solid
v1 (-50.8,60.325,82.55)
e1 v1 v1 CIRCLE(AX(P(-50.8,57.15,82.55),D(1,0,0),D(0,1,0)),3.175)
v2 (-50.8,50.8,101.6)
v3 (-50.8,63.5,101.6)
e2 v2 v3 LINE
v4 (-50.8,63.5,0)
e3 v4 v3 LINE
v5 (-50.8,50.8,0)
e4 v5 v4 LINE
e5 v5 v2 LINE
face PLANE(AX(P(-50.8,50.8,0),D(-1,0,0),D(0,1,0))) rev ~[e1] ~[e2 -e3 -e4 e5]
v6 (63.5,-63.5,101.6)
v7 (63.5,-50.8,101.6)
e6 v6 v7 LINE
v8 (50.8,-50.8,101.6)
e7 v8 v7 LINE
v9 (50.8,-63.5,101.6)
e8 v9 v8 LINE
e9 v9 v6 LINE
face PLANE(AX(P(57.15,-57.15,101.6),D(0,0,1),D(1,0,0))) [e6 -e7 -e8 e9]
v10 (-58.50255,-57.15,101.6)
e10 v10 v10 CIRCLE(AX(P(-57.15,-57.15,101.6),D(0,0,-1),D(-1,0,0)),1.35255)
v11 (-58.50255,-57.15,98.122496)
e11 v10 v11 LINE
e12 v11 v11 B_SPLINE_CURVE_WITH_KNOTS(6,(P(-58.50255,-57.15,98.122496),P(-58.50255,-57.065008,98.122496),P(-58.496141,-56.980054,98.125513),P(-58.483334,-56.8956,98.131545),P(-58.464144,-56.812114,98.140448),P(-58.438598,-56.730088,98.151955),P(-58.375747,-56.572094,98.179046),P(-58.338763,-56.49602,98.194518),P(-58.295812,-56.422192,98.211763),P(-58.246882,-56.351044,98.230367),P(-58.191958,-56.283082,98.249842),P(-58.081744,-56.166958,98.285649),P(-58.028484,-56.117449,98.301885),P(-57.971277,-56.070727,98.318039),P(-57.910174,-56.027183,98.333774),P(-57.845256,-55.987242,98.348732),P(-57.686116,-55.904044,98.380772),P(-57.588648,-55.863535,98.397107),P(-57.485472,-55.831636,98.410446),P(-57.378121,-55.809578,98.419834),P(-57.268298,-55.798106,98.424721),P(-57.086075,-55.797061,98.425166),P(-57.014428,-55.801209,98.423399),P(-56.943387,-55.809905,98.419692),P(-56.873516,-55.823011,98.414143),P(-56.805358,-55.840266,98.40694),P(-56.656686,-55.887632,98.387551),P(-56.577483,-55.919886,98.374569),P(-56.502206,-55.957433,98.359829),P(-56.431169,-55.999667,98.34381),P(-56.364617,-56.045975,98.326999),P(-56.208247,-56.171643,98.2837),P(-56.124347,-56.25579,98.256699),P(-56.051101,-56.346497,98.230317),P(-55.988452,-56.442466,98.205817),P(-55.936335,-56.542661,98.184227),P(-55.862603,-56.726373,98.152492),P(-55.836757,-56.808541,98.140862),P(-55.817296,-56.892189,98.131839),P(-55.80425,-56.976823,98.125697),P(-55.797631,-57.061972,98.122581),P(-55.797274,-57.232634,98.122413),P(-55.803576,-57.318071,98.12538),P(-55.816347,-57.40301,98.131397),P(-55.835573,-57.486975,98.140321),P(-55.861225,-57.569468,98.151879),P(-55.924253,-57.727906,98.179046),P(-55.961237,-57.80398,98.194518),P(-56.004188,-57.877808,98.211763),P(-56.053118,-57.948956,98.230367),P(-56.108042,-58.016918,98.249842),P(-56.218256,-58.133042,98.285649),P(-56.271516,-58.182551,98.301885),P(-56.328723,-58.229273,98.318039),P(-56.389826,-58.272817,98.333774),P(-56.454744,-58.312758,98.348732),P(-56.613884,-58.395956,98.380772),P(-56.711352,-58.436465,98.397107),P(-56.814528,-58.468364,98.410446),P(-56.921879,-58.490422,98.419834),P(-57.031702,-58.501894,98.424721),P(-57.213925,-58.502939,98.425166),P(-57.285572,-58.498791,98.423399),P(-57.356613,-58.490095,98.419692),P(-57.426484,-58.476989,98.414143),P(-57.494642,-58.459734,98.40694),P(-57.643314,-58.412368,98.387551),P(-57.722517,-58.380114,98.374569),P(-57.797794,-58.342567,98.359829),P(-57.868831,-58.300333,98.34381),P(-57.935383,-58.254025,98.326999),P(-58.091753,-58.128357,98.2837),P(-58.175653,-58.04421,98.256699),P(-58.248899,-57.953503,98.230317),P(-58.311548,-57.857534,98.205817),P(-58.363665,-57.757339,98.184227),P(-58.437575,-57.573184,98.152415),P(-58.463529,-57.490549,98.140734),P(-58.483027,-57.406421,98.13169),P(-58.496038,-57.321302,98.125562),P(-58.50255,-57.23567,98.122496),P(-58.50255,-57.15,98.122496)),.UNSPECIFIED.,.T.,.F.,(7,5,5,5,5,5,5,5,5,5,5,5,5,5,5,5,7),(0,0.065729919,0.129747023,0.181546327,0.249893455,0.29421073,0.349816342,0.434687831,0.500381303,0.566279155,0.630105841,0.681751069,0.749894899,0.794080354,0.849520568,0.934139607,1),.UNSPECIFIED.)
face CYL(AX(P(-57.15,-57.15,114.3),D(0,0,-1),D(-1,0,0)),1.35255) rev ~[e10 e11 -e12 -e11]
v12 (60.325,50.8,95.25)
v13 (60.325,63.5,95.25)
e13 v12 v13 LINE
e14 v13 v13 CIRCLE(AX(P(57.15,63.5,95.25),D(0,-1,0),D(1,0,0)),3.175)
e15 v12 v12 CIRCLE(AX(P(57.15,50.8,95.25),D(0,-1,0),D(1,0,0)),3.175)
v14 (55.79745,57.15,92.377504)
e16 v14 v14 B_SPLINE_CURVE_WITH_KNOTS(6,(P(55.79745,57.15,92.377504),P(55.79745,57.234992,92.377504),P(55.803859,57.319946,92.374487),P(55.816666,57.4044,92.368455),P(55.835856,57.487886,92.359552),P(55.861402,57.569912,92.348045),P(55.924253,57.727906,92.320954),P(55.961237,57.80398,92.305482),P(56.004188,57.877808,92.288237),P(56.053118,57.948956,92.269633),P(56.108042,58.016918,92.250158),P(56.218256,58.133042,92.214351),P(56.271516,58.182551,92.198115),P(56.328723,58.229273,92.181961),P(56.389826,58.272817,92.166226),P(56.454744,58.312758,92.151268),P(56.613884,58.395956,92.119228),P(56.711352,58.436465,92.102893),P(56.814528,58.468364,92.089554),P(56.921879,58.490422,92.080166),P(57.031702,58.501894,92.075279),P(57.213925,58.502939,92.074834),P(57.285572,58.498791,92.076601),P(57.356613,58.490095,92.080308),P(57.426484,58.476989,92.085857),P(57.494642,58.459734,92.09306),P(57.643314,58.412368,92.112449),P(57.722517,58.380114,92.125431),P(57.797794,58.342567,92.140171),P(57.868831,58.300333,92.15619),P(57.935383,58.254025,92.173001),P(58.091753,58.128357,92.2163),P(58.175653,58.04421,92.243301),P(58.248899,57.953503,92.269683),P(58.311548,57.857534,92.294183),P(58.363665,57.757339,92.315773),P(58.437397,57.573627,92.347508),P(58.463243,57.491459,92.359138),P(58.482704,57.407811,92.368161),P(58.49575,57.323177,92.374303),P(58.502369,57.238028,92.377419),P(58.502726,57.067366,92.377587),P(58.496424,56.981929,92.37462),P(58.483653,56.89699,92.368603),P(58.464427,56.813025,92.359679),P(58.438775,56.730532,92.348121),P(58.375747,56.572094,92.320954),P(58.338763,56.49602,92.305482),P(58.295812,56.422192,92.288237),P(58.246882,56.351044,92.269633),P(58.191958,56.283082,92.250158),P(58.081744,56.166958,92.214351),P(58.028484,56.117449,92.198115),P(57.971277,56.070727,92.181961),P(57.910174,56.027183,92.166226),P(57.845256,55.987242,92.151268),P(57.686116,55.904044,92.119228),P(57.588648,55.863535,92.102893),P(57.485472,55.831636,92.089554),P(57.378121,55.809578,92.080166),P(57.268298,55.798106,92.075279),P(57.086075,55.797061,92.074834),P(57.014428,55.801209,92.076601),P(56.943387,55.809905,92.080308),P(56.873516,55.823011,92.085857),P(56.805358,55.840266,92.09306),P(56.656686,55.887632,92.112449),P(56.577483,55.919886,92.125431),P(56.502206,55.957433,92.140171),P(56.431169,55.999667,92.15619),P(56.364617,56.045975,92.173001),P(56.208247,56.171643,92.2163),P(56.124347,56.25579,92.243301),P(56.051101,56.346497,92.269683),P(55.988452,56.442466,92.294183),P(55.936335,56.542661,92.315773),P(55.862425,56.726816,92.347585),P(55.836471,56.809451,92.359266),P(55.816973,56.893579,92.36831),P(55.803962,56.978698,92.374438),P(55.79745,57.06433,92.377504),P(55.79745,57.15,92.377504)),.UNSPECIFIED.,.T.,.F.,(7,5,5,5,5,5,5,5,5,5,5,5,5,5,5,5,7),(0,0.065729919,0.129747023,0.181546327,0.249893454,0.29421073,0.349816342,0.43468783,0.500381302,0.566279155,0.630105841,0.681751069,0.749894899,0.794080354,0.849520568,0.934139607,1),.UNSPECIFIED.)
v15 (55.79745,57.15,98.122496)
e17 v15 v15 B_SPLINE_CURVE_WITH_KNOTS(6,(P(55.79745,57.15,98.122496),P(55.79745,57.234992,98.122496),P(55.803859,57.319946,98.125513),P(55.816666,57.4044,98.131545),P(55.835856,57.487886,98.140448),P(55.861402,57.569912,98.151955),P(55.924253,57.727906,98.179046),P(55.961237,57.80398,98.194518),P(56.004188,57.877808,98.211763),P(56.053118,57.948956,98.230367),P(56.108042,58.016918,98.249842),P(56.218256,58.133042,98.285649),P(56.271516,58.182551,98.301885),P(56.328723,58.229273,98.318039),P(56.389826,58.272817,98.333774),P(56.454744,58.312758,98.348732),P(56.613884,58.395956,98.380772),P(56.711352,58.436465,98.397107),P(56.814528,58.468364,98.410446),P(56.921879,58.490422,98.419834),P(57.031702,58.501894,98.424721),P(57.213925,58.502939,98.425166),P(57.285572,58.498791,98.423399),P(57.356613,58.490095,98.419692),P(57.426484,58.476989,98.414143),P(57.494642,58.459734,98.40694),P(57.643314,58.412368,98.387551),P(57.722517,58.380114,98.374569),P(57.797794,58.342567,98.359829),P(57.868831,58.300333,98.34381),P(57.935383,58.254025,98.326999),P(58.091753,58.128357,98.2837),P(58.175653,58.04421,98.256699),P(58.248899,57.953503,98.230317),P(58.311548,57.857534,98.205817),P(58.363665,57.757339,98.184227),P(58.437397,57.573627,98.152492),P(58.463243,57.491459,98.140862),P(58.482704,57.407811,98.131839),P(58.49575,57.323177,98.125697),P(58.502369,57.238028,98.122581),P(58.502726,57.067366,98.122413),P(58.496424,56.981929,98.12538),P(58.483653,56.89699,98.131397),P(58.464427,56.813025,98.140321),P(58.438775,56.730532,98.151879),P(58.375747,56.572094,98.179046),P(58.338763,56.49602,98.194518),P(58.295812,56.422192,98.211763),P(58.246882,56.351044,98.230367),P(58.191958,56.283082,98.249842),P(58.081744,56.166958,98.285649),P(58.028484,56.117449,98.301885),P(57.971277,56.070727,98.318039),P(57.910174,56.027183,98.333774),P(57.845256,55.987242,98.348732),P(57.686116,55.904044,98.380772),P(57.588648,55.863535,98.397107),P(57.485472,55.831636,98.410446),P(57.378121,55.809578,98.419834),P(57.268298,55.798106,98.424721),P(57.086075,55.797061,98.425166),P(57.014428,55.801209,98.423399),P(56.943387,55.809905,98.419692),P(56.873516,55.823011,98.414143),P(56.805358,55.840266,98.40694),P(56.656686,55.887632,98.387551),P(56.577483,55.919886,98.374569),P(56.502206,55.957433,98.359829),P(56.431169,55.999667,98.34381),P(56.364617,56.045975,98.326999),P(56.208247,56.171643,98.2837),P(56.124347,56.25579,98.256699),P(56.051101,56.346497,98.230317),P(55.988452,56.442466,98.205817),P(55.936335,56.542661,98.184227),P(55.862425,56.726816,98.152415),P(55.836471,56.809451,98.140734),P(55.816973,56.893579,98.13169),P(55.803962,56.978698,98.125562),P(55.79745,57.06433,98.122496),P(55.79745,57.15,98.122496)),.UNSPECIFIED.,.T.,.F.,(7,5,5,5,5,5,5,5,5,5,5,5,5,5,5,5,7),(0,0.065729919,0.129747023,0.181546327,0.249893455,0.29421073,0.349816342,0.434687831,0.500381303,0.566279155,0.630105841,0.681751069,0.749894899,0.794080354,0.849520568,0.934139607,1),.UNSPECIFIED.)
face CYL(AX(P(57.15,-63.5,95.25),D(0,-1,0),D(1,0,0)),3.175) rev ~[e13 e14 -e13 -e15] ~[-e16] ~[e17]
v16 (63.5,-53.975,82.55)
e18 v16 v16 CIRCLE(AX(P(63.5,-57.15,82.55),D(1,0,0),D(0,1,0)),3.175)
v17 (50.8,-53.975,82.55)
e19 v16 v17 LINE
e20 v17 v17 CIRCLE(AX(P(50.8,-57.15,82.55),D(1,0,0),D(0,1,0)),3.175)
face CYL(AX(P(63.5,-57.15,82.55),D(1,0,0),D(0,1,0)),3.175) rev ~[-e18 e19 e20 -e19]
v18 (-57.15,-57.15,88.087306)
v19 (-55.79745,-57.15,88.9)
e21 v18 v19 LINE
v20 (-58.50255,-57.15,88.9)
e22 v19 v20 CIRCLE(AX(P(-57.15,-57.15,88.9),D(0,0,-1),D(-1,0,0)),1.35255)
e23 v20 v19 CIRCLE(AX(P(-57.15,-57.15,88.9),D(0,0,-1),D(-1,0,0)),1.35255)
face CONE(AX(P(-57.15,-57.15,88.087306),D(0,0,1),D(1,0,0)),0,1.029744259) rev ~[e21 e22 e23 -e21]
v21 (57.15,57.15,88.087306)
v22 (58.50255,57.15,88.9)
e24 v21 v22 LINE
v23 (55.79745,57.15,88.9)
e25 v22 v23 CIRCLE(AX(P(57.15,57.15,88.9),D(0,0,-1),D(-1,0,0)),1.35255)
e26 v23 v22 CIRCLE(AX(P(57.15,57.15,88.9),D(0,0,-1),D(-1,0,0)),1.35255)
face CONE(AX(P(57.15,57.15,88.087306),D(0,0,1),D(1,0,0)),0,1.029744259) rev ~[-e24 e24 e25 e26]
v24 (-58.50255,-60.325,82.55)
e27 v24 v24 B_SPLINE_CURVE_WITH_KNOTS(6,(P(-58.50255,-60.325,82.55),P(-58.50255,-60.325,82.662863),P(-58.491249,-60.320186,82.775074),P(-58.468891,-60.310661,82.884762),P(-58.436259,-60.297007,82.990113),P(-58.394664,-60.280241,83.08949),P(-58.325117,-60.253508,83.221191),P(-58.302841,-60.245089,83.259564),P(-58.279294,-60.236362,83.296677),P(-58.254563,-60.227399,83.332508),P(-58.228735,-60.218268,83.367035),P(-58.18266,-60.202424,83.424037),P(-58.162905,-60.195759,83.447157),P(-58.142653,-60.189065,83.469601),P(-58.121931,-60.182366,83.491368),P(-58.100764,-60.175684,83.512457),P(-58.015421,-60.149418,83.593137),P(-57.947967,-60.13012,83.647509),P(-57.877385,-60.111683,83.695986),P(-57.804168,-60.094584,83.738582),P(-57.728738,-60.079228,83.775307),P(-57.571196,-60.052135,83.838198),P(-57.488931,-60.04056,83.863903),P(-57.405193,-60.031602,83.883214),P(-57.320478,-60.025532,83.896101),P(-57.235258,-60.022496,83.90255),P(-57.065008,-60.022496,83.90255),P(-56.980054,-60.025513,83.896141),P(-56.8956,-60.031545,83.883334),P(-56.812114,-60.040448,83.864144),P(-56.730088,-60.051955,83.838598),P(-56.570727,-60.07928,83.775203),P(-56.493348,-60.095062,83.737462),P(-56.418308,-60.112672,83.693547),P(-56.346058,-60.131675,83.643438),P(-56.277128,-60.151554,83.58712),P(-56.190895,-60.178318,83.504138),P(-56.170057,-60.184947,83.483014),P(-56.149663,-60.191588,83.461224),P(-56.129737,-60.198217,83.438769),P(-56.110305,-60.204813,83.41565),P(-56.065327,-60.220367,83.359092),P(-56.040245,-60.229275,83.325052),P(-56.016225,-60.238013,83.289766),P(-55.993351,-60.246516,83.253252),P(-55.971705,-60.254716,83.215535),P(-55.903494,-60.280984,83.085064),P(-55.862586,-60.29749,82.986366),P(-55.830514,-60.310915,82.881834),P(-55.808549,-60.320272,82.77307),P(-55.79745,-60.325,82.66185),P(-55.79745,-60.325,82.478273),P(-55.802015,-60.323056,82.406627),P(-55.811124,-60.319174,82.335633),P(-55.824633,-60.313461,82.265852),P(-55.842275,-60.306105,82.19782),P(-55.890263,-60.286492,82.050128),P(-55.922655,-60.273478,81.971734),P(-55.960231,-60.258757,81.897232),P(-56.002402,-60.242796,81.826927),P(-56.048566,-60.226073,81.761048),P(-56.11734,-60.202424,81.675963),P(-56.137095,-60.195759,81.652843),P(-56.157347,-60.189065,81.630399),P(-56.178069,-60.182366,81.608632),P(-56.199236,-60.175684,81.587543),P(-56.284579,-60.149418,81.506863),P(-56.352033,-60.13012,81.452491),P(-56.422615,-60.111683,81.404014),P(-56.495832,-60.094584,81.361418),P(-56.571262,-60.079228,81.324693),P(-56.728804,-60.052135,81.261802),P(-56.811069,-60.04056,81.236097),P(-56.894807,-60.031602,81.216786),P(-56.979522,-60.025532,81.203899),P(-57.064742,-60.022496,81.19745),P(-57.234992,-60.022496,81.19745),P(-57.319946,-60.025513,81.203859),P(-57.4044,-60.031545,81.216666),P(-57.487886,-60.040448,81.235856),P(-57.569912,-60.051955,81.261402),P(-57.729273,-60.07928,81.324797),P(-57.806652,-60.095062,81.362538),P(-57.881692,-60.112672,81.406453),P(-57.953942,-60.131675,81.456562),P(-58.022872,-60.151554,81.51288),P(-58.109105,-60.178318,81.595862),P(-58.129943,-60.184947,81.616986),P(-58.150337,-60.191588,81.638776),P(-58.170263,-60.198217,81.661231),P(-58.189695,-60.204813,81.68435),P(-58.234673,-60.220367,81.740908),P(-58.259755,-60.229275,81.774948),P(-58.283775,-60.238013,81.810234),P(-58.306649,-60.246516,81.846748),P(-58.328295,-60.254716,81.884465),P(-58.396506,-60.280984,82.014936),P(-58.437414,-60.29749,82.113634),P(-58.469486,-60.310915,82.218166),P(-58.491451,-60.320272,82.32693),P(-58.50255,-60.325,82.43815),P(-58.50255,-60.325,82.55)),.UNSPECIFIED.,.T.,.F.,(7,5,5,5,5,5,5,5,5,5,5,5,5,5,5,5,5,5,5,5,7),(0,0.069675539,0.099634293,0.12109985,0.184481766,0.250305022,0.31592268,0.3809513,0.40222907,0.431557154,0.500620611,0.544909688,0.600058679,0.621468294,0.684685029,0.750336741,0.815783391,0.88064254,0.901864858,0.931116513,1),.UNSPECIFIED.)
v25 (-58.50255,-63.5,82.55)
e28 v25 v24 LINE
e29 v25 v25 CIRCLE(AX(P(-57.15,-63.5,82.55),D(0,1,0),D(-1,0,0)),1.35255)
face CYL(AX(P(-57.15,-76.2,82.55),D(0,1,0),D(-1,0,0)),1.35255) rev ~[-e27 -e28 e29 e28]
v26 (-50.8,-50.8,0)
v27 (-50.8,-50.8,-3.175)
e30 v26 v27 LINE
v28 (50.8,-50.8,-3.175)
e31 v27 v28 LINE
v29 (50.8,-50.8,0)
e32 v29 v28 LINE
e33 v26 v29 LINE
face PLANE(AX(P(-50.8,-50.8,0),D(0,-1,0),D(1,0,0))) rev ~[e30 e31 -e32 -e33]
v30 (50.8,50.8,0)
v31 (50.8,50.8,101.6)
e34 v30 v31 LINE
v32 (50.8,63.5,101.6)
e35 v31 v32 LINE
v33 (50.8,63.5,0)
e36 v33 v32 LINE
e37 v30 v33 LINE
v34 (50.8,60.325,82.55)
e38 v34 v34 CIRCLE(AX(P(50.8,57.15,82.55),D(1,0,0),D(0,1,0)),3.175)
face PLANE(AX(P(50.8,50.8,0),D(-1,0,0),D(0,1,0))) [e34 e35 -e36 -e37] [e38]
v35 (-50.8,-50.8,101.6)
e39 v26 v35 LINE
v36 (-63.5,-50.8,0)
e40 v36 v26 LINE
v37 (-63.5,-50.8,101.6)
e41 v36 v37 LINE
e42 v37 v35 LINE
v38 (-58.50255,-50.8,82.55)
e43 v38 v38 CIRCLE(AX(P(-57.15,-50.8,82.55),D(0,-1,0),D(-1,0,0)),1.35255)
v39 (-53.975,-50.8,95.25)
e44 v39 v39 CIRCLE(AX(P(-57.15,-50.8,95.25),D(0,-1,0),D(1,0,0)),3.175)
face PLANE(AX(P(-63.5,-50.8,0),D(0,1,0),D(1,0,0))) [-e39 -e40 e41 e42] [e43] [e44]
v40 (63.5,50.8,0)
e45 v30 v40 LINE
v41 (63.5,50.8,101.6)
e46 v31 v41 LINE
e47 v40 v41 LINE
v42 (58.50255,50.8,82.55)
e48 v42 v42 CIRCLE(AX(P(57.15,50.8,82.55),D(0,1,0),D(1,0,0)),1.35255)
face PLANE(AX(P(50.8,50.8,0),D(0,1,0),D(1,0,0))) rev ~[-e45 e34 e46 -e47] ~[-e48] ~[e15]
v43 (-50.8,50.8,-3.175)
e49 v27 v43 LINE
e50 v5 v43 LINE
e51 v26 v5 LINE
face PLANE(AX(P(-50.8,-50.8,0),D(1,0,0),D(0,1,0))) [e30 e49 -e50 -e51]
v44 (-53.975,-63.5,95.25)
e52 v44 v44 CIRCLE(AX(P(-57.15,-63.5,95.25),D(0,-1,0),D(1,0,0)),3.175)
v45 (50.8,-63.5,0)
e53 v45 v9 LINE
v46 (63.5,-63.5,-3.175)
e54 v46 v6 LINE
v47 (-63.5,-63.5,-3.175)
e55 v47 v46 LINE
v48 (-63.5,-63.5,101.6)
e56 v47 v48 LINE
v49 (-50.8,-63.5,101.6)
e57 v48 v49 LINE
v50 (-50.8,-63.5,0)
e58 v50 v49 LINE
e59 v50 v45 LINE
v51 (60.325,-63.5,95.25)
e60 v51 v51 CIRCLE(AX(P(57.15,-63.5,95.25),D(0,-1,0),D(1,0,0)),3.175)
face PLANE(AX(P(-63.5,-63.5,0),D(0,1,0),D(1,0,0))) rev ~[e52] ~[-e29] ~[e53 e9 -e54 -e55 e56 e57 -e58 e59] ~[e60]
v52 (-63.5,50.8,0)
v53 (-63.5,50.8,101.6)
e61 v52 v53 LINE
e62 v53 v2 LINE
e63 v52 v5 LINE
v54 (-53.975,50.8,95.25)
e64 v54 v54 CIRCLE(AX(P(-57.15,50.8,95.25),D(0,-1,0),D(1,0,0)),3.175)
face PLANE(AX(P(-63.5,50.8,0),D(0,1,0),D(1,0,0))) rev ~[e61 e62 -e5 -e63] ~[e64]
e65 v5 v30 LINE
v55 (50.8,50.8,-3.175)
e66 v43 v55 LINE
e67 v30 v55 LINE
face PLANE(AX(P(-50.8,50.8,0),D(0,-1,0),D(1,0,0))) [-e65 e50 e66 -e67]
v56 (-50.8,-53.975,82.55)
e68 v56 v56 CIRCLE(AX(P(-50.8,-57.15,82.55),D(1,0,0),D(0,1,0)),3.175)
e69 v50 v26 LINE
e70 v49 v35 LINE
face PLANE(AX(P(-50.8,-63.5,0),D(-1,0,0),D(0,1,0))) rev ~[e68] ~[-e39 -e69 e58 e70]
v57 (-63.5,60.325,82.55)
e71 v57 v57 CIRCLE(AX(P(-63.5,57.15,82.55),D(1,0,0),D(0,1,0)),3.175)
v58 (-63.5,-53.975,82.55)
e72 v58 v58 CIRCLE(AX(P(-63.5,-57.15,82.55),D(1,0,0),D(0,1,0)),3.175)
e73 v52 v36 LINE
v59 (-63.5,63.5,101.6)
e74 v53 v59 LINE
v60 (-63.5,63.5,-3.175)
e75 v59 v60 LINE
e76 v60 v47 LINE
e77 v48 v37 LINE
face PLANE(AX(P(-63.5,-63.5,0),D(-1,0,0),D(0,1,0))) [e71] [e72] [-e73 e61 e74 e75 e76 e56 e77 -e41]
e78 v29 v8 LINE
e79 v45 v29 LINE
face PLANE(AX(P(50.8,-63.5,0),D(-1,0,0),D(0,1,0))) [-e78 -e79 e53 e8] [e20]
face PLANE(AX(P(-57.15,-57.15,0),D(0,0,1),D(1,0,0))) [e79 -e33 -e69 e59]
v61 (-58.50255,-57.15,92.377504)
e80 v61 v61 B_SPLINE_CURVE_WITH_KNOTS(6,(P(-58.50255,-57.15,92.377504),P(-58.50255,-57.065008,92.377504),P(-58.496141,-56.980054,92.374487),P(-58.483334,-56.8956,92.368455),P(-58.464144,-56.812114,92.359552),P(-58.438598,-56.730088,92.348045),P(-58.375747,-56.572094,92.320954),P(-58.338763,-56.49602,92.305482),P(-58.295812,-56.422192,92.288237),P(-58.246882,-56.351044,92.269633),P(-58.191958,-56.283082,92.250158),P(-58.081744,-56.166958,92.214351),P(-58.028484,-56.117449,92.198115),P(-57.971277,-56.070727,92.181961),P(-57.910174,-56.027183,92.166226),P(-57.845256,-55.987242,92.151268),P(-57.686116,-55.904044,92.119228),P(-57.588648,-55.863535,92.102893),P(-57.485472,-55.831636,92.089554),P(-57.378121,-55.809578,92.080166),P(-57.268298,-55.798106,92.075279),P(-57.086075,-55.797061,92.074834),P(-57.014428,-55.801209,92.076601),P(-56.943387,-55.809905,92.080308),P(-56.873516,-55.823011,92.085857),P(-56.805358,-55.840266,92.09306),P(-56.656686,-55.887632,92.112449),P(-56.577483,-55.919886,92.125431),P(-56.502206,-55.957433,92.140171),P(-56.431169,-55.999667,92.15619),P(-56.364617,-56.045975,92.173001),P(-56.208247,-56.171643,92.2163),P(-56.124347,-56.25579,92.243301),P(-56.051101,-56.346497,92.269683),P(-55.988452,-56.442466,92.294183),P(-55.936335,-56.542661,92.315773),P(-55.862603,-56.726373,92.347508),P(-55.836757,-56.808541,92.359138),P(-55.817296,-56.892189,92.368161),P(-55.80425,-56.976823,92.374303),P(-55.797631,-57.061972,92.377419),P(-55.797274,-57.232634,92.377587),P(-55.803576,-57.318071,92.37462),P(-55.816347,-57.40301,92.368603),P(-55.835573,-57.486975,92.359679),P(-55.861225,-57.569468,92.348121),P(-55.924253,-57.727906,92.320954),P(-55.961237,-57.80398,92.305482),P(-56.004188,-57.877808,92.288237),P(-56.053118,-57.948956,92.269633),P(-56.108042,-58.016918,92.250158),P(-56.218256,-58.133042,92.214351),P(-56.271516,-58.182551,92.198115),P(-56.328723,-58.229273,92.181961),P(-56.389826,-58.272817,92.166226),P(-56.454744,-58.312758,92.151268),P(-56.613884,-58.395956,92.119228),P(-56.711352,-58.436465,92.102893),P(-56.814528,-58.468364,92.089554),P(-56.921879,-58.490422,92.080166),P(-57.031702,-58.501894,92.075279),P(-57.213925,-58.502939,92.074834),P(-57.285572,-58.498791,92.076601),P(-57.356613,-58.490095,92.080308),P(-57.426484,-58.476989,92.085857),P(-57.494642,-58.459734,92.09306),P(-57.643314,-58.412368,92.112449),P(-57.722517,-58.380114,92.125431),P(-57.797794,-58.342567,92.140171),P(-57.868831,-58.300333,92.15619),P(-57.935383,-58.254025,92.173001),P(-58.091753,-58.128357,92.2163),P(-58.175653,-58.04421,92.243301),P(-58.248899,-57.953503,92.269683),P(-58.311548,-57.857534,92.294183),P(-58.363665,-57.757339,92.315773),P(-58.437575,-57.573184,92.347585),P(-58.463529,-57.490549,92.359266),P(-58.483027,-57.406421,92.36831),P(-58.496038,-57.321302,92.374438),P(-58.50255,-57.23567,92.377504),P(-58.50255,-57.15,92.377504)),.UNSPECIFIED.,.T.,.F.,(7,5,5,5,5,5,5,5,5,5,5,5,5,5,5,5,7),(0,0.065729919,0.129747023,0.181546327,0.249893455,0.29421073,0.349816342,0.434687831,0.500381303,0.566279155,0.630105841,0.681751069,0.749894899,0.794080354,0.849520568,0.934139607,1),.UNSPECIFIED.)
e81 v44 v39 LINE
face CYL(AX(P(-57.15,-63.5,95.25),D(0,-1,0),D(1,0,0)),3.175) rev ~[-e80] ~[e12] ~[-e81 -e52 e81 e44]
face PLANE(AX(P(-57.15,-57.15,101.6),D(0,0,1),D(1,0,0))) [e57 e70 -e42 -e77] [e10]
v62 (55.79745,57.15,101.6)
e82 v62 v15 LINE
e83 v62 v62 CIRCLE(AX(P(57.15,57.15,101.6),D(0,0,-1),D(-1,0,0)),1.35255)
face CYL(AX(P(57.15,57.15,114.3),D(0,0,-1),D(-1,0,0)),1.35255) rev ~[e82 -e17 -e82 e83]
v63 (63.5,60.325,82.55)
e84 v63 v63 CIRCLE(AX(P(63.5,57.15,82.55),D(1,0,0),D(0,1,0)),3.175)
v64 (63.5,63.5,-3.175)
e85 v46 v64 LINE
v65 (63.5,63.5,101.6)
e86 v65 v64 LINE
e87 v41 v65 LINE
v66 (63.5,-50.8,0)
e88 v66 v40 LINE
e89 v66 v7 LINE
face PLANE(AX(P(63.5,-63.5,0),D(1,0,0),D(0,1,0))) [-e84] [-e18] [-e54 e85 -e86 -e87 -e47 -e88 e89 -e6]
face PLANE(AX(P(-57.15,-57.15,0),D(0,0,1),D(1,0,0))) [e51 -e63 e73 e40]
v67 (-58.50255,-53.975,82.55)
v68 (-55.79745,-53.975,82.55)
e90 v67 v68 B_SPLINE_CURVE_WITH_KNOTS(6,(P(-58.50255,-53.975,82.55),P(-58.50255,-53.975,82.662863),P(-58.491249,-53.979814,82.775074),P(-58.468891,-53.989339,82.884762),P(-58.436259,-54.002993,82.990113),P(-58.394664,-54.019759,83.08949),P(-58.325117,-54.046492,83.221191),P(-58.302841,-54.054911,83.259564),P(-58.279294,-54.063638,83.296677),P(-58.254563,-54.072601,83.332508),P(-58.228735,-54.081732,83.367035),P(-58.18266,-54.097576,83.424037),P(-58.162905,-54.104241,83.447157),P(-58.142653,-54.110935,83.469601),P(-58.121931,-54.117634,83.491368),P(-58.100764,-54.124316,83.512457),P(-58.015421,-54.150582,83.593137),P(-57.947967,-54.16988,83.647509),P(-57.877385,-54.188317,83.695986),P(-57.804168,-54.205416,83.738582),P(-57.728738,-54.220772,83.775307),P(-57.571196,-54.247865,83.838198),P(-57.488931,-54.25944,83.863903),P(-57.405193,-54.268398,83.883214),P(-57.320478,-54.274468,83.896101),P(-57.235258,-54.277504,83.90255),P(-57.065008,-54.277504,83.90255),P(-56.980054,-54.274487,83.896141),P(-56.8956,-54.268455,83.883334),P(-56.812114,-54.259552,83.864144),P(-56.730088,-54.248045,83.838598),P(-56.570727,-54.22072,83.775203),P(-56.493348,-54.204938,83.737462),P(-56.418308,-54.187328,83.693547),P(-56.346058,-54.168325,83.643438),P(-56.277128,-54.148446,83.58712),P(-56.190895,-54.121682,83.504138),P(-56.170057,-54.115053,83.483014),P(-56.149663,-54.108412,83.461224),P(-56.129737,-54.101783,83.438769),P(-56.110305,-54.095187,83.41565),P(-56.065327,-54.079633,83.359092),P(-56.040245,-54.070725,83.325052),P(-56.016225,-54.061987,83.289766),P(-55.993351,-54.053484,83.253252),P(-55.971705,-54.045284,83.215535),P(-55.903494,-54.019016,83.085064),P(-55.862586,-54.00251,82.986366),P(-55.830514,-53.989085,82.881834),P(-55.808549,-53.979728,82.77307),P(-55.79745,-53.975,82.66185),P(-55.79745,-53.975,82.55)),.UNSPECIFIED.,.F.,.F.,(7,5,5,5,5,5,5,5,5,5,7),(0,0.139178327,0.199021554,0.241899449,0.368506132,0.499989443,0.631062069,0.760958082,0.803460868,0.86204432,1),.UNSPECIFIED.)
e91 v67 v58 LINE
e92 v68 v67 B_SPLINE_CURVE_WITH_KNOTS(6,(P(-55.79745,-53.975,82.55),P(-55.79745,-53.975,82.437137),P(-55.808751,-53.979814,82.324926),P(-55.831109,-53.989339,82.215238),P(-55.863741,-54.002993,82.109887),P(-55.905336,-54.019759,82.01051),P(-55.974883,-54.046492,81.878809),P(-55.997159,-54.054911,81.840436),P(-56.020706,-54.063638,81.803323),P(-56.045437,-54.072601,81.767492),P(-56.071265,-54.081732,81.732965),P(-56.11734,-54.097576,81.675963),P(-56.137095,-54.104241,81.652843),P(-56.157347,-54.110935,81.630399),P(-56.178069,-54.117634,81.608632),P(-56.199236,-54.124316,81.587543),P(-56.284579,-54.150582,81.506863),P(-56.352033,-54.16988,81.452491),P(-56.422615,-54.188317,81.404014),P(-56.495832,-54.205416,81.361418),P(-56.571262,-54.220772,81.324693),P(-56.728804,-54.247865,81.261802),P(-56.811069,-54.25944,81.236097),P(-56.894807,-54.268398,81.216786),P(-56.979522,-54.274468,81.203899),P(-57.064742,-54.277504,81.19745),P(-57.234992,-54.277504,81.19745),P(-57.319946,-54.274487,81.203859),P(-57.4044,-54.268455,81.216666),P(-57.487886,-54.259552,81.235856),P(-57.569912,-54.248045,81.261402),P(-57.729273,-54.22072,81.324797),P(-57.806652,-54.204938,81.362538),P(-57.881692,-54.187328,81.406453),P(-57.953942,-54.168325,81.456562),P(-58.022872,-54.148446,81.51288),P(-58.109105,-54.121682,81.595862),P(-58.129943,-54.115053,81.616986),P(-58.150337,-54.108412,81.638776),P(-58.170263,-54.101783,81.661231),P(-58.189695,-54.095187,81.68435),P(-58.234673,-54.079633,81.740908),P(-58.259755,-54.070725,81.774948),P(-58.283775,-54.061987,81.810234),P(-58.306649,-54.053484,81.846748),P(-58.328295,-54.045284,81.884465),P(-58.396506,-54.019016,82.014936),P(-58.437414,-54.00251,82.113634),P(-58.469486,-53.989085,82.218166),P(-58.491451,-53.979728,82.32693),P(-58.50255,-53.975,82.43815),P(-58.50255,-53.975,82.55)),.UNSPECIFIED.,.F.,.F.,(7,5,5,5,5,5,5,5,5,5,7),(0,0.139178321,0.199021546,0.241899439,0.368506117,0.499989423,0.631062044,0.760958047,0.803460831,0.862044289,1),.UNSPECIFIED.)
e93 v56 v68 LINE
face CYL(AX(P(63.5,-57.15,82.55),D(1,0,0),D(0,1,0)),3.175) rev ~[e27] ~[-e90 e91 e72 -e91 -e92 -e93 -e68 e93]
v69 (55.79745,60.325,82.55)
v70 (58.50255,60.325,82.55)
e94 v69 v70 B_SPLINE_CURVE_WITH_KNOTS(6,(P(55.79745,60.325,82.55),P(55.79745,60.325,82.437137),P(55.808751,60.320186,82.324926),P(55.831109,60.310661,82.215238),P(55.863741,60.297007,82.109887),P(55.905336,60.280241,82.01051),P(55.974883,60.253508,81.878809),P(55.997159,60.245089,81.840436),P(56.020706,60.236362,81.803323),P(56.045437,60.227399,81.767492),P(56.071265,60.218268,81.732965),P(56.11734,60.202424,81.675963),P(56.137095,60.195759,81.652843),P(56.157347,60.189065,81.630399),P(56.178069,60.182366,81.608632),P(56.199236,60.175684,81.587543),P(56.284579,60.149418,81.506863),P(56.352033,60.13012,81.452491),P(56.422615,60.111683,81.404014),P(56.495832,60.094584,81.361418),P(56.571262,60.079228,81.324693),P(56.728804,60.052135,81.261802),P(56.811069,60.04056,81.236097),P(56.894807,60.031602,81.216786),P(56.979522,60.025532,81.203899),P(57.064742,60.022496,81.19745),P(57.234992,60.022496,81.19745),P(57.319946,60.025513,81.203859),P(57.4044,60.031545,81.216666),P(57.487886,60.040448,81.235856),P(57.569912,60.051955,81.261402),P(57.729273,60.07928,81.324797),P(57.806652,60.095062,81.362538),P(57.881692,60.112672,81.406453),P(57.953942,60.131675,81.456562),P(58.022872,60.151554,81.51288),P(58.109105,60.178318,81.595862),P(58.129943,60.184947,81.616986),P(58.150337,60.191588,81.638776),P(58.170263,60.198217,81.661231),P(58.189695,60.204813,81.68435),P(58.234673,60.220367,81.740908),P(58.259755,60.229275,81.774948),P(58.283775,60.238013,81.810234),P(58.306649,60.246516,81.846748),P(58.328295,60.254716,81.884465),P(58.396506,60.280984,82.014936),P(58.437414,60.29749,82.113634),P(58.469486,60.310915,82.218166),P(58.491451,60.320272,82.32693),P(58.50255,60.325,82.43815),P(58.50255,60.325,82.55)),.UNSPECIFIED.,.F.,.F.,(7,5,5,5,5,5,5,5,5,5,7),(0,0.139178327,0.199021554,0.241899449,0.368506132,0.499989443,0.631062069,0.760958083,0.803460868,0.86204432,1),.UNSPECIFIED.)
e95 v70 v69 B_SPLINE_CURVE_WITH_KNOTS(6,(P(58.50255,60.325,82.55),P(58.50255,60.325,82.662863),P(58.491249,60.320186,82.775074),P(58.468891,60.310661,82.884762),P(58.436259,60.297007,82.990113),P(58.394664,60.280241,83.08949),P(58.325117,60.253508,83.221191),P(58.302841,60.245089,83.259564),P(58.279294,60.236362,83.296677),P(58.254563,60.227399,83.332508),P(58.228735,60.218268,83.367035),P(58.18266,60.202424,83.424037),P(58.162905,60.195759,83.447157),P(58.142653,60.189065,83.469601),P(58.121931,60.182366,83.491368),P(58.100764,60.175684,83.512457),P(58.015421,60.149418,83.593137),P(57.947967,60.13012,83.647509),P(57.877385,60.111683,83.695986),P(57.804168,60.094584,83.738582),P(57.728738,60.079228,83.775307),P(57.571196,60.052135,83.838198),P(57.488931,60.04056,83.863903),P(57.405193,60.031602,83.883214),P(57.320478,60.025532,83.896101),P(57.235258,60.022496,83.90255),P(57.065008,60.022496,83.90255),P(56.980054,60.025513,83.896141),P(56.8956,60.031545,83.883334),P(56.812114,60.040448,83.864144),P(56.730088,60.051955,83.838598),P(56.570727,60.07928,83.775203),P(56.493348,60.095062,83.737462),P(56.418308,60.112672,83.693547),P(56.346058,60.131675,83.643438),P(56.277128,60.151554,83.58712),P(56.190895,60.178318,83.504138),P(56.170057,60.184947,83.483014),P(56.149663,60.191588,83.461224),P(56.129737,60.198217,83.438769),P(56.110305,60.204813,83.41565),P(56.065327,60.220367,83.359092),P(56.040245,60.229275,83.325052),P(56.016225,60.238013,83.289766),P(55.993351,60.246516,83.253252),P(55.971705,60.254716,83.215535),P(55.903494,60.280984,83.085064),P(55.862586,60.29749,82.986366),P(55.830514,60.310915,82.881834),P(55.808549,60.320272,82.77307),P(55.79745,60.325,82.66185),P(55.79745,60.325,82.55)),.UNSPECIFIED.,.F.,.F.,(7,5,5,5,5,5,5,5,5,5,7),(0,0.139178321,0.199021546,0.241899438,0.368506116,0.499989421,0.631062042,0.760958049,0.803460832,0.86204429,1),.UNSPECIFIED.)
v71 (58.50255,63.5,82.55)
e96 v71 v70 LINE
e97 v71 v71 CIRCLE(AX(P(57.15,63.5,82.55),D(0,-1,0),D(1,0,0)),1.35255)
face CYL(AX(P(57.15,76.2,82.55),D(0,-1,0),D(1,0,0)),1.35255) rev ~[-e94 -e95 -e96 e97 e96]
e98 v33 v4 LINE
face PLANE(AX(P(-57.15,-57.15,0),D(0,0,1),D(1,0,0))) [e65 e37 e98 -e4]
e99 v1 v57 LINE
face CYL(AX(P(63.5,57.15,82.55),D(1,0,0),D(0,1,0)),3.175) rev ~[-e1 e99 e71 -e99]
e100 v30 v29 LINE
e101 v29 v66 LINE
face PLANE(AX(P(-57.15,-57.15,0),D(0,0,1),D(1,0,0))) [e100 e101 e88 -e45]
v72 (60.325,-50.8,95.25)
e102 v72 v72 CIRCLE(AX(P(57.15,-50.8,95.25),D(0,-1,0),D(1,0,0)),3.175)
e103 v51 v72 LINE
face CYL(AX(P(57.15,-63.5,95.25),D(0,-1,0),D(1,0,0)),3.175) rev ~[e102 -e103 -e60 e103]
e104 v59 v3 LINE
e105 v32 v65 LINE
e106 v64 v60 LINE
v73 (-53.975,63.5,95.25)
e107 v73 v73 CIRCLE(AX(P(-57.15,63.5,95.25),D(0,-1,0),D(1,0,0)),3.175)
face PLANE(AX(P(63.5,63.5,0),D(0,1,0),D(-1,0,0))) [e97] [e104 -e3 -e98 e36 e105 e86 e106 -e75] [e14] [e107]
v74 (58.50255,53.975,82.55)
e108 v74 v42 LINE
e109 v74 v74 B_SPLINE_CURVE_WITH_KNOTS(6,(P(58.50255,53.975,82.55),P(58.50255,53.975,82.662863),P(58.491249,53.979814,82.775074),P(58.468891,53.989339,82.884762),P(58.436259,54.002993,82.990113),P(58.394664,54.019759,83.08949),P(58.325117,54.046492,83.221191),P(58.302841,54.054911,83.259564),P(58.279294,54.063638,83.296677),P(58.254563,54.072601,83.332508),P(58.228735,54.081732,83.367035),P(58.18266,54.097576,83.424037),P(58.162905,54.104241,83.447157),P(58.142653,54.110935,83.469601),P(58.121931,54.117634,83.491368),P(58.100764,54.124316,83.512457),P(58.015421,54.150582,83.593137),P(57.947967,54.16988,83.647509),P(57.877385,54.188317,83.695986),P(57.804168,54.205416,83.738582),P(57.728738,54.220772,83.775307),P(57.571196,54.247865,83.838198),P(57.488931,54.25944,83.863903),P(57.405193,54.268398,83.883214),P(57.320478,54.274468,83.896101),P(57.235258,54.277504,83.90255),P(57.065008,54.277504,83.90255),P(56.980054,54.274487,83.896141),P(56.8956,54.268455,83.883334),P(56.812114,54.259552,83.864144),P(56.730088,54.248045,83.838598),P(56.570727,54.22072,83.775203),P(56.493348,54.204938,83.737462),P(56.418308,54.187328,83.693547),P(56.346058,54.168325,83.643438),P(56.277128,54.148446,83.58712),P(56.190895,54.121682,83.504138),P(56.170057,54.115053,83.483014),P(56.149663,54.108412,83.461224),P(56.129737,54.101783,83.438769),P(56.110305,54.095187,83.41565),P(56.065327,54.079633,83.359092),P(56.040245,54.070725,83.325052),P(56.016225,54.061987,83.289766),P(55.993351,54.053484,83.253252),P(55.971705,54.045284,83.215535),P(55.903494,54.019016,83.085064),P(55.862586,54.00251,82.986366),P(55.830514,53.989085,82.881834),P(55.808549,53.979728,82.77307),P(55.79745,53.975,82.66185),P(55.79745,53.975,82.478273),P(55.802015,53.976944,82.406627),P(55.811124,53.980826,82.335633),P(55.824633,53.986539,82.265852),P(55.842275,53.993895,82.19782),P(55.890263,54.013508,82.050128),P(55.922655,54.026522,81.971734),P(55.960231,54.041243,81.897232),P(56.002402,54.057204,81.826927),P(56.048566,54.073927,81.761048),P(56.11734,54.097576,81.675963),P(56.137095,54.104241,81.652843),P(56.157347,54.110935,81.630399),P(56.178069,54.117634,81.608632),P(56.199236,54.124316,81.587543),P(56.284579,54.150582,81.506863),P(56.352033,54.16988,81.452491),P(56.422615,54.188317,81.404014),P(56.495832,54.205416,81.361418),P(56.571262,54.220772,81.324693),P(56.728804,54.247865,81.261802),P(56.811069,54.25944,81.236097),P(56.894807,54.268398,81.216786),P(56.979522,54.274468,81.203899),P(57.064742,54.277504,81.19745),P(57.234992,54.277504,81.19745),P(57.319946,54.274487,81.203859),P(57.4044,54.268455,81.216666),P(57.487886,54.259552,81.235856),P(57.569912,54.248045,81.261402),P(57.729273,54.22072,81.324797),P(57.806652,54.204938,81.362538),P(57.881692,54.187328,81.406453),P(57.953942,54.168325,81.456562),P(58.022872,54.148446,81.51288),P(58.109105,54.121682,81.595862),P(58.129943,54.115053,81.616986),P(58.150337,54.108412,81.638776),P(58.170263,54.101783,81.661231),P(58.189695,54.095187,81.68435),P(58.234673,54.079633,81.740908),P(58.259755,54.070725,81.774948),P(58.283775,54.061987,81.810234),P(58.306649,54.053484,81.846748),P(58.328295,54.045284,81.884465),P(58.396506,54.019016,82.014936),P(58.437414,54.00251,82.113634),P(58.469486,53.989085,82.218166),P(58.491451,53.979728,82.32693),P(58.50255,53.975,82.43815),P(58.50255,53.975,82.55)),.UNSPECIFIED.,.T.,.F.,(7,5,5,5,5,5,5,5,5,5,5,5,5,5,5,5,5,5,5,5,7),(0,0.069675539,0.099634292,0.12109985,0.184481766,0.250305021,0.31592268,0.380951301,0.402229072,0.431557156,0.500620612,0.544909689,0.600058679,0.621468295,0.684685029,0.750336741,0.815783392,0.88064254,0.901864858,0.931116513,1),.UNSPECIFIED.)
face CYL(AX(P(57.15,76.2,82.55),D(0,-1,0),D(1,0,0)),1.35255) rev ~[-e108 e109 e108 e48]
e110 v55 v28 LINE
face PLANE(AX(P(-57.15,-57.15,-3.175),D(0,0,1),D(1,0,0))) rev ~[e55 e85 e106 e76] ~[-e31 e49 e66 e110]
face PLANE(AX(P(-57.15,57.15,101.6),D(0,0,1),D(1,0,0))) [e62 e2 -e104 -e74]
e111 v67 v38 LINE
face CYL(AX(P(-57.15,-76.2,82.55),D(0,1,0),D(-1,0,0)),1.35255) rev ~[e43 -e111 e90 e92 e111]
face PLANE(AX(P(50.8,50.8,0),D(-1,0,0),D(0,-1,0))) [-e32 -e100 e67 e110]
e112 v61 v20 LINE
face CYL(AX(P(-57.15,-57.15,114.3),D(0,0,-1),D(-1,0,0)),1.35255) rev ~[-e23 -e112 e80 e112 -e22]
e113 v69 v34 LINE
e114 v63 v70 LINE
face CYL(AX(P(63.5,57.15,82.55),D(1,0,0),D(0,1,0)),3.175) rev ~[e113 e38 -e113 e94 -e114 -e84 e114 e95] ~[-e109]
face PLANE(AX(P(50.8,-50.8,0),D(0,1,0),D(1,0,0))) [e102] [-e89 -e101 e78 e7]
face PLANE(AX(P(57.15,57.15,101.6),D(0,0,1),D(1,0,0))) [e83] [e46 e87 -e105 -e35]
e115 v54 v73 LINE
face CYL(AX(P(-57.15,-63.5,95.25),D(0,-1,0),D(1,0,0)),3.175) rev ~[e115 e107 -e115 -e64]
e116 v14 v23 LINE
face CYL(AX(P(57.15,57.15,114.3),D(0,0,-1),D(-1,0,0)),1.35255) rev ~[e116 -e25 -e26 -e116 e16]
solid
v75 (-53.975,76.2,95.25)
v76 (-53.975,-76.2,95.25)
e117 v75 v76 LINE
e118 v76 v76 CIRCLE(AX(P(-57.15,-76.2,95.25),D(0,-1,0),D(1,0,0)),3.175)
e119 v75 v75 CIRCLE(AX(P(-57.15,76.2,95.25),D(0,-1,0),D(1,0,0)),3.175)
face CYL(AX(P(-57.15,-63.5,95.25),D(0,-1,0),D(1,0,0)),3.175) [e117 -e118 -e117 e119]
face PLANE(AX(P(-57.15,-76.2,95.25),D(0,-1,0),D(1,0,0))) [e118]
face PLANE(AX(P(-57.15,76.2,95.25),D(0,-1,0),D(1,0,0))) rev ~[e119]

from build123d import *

# Parameters (mm, degrees)
F0_W            = 12.7
F0_H            = 12.7
F0_H_2          = 101.6
F0_W_2          = 101.6
F1_DEPTH        = 3.175
F2_DEPTH        = 101.6
F3_R            = 3.175
F4_DEPTH        = 127.001
F5_R            = 3.175
F6_DEPTH        = 127.001
F10_D           = 2.7051
F10_DEPTH       = 12.7
F10_TIP         = 0.8126940303
F10_ON_F8_D     = 2.7051
F10_ON_F8_DEPTH = 12.7
F10_ON_F8_TIP   = 0.8126940303
F10_ON_F9_D     = 2.7051
F10_ON_F9_DEPTH = 12.7
F10_ON_F9_TIP   = 0.8126940303
F11_R           = 3.175
F12_DEPTH       = 12.7
F12_DEPTH_BACK  = 139.7


with BuildPart() as f1:
    # F0 (on Top) → F1 (new body)
    with BuildSketch(Plane.XY):
        with Locations((-57.15, -57.15)):
            Rectangle(F0_W, F0_H)
        with Locations((-57.15, 0)):
            Rectangle(F0_W, F0_H_2)
        with Locations((-57.15, 57.15)):
            Rectangle(F0_W, F0_H)
        with Locations((0, 57.15)):
            Rectangle(F0_W_2, F0_H)
        with Locations((57.15, 57.15)):
            Rectangle(F0_W, F0_H)
        with Locations((57.15, 0)):
            Rectangle(F0_W, F0_H_2)
        with Locations((57.15, -57.15)):
            Rectangle(F0_W, F0_H)
        with Locations((0, -57.15)):
            Rectangle(F0_W_2, F0_H)
    extrude(amount=-F1_DEPTH)

    # F0 (on Top) → F2 (join)
    with BuildSketch(Plane.XY):
        with Locations((-57.15, -57.15)):
            Rectangle(F0_W, F0_H)
        with Locations((-57.15, 57.15)):
            Rectangle(F0_W, F0_H)
        with Locations((57.15, 57.15)):
            Rectangle(F0_W, F0_H)
        with Locations((57.15, -57.15)):
            Rectangle(F0_W, F0_H)
    extrude(amount=F2_DEPTH)

    # F3 (on face) → F4 (cut, through all)
    with BuildSketch(Plane.XZ.offset(63.5)):
        with Locations((-57.15, 95.25)):
            Circle(F3_R)
        with Locations((57.15, 95.25)):
            Circle(F3_R)
    extrude(amount=-F4_DEPTH, mode=Mode.SUBTRACT)

    # F5 (on face) → F6 (cut, through all)
    with BuildSketch(Plane.YZ.offset(63.5)):
        with Locations((-57.15, 82.55)):
            Circle(F5_R)
        with Locations((57.15, 82.55)):
            Circle(F5_R)
    extrude(amount=-F6_DEPTH, mode=Mode.SUBTRACT)

    # F10
    with Locations(Plane.XY.offset(101.6)):
        with Locations((-57.15, -57.15), (57.15, 57.15)):
            Hole(F10_D / 2, depth=F10_DEPTH)
            with Locations((0, 0, -(F10_DEPTH + F10_TIP / 2))):  # 118° drill point
                Cone(0, F10_D / 2, F10_TIP, mode=Mode.SUBTRACT)

    # F10 on F8
    with Locations(Plane.XZ.offset(63.5)):
        with Locations((-57.15, 82.55)):
            Hole(F10_ON_F8_D / 2, depth=F10_ON_F8_DEPTH)
            with Locations((0, 0, -(F10_ON_F8_DEPTH + F10_ON_F8_TIP / 2))):  # 118° drill point
                Cone(0, F10_ON_F8_D / 2, F10_ON_F8_TIP, mode=Mode.SUBTRACT)

    # F10 on F9
    with Locations(Plane(origin=(0, 63.5, 0), x_dir=(-1, 0, 0), z_dir=(0, 1, 0))):
        with Locations((-57.15, 82.55)):
            Hole(F10_ON_F9_D / 2, depth=F10_ON_F9_DEPTH)
            with Locations((0, 0, -(F10_ON_F9_DEPTH + F10_ON_F9_TIP / 2))):  # 118° drill point
                Cone(0, F10_ON_F9_D / 2, F10_ON_F9_TIP, mode=Mode.SUBTRACT)


with BuildPart() as f12:
    # F11 (on face) → F12 (new body, two sides)
    with BuildSketch(Plane.XZ.offset(63.5)) as f12_sk:
        with Locations((-57.15, 95.25)):
            Circle(F11_R)
    extrude(amount=F12_DEPTH)
    extrude(f12_sk.sketch, amount=-F12_DEPTH_BACK)


solid = Compound([f1.part, f12.part])
